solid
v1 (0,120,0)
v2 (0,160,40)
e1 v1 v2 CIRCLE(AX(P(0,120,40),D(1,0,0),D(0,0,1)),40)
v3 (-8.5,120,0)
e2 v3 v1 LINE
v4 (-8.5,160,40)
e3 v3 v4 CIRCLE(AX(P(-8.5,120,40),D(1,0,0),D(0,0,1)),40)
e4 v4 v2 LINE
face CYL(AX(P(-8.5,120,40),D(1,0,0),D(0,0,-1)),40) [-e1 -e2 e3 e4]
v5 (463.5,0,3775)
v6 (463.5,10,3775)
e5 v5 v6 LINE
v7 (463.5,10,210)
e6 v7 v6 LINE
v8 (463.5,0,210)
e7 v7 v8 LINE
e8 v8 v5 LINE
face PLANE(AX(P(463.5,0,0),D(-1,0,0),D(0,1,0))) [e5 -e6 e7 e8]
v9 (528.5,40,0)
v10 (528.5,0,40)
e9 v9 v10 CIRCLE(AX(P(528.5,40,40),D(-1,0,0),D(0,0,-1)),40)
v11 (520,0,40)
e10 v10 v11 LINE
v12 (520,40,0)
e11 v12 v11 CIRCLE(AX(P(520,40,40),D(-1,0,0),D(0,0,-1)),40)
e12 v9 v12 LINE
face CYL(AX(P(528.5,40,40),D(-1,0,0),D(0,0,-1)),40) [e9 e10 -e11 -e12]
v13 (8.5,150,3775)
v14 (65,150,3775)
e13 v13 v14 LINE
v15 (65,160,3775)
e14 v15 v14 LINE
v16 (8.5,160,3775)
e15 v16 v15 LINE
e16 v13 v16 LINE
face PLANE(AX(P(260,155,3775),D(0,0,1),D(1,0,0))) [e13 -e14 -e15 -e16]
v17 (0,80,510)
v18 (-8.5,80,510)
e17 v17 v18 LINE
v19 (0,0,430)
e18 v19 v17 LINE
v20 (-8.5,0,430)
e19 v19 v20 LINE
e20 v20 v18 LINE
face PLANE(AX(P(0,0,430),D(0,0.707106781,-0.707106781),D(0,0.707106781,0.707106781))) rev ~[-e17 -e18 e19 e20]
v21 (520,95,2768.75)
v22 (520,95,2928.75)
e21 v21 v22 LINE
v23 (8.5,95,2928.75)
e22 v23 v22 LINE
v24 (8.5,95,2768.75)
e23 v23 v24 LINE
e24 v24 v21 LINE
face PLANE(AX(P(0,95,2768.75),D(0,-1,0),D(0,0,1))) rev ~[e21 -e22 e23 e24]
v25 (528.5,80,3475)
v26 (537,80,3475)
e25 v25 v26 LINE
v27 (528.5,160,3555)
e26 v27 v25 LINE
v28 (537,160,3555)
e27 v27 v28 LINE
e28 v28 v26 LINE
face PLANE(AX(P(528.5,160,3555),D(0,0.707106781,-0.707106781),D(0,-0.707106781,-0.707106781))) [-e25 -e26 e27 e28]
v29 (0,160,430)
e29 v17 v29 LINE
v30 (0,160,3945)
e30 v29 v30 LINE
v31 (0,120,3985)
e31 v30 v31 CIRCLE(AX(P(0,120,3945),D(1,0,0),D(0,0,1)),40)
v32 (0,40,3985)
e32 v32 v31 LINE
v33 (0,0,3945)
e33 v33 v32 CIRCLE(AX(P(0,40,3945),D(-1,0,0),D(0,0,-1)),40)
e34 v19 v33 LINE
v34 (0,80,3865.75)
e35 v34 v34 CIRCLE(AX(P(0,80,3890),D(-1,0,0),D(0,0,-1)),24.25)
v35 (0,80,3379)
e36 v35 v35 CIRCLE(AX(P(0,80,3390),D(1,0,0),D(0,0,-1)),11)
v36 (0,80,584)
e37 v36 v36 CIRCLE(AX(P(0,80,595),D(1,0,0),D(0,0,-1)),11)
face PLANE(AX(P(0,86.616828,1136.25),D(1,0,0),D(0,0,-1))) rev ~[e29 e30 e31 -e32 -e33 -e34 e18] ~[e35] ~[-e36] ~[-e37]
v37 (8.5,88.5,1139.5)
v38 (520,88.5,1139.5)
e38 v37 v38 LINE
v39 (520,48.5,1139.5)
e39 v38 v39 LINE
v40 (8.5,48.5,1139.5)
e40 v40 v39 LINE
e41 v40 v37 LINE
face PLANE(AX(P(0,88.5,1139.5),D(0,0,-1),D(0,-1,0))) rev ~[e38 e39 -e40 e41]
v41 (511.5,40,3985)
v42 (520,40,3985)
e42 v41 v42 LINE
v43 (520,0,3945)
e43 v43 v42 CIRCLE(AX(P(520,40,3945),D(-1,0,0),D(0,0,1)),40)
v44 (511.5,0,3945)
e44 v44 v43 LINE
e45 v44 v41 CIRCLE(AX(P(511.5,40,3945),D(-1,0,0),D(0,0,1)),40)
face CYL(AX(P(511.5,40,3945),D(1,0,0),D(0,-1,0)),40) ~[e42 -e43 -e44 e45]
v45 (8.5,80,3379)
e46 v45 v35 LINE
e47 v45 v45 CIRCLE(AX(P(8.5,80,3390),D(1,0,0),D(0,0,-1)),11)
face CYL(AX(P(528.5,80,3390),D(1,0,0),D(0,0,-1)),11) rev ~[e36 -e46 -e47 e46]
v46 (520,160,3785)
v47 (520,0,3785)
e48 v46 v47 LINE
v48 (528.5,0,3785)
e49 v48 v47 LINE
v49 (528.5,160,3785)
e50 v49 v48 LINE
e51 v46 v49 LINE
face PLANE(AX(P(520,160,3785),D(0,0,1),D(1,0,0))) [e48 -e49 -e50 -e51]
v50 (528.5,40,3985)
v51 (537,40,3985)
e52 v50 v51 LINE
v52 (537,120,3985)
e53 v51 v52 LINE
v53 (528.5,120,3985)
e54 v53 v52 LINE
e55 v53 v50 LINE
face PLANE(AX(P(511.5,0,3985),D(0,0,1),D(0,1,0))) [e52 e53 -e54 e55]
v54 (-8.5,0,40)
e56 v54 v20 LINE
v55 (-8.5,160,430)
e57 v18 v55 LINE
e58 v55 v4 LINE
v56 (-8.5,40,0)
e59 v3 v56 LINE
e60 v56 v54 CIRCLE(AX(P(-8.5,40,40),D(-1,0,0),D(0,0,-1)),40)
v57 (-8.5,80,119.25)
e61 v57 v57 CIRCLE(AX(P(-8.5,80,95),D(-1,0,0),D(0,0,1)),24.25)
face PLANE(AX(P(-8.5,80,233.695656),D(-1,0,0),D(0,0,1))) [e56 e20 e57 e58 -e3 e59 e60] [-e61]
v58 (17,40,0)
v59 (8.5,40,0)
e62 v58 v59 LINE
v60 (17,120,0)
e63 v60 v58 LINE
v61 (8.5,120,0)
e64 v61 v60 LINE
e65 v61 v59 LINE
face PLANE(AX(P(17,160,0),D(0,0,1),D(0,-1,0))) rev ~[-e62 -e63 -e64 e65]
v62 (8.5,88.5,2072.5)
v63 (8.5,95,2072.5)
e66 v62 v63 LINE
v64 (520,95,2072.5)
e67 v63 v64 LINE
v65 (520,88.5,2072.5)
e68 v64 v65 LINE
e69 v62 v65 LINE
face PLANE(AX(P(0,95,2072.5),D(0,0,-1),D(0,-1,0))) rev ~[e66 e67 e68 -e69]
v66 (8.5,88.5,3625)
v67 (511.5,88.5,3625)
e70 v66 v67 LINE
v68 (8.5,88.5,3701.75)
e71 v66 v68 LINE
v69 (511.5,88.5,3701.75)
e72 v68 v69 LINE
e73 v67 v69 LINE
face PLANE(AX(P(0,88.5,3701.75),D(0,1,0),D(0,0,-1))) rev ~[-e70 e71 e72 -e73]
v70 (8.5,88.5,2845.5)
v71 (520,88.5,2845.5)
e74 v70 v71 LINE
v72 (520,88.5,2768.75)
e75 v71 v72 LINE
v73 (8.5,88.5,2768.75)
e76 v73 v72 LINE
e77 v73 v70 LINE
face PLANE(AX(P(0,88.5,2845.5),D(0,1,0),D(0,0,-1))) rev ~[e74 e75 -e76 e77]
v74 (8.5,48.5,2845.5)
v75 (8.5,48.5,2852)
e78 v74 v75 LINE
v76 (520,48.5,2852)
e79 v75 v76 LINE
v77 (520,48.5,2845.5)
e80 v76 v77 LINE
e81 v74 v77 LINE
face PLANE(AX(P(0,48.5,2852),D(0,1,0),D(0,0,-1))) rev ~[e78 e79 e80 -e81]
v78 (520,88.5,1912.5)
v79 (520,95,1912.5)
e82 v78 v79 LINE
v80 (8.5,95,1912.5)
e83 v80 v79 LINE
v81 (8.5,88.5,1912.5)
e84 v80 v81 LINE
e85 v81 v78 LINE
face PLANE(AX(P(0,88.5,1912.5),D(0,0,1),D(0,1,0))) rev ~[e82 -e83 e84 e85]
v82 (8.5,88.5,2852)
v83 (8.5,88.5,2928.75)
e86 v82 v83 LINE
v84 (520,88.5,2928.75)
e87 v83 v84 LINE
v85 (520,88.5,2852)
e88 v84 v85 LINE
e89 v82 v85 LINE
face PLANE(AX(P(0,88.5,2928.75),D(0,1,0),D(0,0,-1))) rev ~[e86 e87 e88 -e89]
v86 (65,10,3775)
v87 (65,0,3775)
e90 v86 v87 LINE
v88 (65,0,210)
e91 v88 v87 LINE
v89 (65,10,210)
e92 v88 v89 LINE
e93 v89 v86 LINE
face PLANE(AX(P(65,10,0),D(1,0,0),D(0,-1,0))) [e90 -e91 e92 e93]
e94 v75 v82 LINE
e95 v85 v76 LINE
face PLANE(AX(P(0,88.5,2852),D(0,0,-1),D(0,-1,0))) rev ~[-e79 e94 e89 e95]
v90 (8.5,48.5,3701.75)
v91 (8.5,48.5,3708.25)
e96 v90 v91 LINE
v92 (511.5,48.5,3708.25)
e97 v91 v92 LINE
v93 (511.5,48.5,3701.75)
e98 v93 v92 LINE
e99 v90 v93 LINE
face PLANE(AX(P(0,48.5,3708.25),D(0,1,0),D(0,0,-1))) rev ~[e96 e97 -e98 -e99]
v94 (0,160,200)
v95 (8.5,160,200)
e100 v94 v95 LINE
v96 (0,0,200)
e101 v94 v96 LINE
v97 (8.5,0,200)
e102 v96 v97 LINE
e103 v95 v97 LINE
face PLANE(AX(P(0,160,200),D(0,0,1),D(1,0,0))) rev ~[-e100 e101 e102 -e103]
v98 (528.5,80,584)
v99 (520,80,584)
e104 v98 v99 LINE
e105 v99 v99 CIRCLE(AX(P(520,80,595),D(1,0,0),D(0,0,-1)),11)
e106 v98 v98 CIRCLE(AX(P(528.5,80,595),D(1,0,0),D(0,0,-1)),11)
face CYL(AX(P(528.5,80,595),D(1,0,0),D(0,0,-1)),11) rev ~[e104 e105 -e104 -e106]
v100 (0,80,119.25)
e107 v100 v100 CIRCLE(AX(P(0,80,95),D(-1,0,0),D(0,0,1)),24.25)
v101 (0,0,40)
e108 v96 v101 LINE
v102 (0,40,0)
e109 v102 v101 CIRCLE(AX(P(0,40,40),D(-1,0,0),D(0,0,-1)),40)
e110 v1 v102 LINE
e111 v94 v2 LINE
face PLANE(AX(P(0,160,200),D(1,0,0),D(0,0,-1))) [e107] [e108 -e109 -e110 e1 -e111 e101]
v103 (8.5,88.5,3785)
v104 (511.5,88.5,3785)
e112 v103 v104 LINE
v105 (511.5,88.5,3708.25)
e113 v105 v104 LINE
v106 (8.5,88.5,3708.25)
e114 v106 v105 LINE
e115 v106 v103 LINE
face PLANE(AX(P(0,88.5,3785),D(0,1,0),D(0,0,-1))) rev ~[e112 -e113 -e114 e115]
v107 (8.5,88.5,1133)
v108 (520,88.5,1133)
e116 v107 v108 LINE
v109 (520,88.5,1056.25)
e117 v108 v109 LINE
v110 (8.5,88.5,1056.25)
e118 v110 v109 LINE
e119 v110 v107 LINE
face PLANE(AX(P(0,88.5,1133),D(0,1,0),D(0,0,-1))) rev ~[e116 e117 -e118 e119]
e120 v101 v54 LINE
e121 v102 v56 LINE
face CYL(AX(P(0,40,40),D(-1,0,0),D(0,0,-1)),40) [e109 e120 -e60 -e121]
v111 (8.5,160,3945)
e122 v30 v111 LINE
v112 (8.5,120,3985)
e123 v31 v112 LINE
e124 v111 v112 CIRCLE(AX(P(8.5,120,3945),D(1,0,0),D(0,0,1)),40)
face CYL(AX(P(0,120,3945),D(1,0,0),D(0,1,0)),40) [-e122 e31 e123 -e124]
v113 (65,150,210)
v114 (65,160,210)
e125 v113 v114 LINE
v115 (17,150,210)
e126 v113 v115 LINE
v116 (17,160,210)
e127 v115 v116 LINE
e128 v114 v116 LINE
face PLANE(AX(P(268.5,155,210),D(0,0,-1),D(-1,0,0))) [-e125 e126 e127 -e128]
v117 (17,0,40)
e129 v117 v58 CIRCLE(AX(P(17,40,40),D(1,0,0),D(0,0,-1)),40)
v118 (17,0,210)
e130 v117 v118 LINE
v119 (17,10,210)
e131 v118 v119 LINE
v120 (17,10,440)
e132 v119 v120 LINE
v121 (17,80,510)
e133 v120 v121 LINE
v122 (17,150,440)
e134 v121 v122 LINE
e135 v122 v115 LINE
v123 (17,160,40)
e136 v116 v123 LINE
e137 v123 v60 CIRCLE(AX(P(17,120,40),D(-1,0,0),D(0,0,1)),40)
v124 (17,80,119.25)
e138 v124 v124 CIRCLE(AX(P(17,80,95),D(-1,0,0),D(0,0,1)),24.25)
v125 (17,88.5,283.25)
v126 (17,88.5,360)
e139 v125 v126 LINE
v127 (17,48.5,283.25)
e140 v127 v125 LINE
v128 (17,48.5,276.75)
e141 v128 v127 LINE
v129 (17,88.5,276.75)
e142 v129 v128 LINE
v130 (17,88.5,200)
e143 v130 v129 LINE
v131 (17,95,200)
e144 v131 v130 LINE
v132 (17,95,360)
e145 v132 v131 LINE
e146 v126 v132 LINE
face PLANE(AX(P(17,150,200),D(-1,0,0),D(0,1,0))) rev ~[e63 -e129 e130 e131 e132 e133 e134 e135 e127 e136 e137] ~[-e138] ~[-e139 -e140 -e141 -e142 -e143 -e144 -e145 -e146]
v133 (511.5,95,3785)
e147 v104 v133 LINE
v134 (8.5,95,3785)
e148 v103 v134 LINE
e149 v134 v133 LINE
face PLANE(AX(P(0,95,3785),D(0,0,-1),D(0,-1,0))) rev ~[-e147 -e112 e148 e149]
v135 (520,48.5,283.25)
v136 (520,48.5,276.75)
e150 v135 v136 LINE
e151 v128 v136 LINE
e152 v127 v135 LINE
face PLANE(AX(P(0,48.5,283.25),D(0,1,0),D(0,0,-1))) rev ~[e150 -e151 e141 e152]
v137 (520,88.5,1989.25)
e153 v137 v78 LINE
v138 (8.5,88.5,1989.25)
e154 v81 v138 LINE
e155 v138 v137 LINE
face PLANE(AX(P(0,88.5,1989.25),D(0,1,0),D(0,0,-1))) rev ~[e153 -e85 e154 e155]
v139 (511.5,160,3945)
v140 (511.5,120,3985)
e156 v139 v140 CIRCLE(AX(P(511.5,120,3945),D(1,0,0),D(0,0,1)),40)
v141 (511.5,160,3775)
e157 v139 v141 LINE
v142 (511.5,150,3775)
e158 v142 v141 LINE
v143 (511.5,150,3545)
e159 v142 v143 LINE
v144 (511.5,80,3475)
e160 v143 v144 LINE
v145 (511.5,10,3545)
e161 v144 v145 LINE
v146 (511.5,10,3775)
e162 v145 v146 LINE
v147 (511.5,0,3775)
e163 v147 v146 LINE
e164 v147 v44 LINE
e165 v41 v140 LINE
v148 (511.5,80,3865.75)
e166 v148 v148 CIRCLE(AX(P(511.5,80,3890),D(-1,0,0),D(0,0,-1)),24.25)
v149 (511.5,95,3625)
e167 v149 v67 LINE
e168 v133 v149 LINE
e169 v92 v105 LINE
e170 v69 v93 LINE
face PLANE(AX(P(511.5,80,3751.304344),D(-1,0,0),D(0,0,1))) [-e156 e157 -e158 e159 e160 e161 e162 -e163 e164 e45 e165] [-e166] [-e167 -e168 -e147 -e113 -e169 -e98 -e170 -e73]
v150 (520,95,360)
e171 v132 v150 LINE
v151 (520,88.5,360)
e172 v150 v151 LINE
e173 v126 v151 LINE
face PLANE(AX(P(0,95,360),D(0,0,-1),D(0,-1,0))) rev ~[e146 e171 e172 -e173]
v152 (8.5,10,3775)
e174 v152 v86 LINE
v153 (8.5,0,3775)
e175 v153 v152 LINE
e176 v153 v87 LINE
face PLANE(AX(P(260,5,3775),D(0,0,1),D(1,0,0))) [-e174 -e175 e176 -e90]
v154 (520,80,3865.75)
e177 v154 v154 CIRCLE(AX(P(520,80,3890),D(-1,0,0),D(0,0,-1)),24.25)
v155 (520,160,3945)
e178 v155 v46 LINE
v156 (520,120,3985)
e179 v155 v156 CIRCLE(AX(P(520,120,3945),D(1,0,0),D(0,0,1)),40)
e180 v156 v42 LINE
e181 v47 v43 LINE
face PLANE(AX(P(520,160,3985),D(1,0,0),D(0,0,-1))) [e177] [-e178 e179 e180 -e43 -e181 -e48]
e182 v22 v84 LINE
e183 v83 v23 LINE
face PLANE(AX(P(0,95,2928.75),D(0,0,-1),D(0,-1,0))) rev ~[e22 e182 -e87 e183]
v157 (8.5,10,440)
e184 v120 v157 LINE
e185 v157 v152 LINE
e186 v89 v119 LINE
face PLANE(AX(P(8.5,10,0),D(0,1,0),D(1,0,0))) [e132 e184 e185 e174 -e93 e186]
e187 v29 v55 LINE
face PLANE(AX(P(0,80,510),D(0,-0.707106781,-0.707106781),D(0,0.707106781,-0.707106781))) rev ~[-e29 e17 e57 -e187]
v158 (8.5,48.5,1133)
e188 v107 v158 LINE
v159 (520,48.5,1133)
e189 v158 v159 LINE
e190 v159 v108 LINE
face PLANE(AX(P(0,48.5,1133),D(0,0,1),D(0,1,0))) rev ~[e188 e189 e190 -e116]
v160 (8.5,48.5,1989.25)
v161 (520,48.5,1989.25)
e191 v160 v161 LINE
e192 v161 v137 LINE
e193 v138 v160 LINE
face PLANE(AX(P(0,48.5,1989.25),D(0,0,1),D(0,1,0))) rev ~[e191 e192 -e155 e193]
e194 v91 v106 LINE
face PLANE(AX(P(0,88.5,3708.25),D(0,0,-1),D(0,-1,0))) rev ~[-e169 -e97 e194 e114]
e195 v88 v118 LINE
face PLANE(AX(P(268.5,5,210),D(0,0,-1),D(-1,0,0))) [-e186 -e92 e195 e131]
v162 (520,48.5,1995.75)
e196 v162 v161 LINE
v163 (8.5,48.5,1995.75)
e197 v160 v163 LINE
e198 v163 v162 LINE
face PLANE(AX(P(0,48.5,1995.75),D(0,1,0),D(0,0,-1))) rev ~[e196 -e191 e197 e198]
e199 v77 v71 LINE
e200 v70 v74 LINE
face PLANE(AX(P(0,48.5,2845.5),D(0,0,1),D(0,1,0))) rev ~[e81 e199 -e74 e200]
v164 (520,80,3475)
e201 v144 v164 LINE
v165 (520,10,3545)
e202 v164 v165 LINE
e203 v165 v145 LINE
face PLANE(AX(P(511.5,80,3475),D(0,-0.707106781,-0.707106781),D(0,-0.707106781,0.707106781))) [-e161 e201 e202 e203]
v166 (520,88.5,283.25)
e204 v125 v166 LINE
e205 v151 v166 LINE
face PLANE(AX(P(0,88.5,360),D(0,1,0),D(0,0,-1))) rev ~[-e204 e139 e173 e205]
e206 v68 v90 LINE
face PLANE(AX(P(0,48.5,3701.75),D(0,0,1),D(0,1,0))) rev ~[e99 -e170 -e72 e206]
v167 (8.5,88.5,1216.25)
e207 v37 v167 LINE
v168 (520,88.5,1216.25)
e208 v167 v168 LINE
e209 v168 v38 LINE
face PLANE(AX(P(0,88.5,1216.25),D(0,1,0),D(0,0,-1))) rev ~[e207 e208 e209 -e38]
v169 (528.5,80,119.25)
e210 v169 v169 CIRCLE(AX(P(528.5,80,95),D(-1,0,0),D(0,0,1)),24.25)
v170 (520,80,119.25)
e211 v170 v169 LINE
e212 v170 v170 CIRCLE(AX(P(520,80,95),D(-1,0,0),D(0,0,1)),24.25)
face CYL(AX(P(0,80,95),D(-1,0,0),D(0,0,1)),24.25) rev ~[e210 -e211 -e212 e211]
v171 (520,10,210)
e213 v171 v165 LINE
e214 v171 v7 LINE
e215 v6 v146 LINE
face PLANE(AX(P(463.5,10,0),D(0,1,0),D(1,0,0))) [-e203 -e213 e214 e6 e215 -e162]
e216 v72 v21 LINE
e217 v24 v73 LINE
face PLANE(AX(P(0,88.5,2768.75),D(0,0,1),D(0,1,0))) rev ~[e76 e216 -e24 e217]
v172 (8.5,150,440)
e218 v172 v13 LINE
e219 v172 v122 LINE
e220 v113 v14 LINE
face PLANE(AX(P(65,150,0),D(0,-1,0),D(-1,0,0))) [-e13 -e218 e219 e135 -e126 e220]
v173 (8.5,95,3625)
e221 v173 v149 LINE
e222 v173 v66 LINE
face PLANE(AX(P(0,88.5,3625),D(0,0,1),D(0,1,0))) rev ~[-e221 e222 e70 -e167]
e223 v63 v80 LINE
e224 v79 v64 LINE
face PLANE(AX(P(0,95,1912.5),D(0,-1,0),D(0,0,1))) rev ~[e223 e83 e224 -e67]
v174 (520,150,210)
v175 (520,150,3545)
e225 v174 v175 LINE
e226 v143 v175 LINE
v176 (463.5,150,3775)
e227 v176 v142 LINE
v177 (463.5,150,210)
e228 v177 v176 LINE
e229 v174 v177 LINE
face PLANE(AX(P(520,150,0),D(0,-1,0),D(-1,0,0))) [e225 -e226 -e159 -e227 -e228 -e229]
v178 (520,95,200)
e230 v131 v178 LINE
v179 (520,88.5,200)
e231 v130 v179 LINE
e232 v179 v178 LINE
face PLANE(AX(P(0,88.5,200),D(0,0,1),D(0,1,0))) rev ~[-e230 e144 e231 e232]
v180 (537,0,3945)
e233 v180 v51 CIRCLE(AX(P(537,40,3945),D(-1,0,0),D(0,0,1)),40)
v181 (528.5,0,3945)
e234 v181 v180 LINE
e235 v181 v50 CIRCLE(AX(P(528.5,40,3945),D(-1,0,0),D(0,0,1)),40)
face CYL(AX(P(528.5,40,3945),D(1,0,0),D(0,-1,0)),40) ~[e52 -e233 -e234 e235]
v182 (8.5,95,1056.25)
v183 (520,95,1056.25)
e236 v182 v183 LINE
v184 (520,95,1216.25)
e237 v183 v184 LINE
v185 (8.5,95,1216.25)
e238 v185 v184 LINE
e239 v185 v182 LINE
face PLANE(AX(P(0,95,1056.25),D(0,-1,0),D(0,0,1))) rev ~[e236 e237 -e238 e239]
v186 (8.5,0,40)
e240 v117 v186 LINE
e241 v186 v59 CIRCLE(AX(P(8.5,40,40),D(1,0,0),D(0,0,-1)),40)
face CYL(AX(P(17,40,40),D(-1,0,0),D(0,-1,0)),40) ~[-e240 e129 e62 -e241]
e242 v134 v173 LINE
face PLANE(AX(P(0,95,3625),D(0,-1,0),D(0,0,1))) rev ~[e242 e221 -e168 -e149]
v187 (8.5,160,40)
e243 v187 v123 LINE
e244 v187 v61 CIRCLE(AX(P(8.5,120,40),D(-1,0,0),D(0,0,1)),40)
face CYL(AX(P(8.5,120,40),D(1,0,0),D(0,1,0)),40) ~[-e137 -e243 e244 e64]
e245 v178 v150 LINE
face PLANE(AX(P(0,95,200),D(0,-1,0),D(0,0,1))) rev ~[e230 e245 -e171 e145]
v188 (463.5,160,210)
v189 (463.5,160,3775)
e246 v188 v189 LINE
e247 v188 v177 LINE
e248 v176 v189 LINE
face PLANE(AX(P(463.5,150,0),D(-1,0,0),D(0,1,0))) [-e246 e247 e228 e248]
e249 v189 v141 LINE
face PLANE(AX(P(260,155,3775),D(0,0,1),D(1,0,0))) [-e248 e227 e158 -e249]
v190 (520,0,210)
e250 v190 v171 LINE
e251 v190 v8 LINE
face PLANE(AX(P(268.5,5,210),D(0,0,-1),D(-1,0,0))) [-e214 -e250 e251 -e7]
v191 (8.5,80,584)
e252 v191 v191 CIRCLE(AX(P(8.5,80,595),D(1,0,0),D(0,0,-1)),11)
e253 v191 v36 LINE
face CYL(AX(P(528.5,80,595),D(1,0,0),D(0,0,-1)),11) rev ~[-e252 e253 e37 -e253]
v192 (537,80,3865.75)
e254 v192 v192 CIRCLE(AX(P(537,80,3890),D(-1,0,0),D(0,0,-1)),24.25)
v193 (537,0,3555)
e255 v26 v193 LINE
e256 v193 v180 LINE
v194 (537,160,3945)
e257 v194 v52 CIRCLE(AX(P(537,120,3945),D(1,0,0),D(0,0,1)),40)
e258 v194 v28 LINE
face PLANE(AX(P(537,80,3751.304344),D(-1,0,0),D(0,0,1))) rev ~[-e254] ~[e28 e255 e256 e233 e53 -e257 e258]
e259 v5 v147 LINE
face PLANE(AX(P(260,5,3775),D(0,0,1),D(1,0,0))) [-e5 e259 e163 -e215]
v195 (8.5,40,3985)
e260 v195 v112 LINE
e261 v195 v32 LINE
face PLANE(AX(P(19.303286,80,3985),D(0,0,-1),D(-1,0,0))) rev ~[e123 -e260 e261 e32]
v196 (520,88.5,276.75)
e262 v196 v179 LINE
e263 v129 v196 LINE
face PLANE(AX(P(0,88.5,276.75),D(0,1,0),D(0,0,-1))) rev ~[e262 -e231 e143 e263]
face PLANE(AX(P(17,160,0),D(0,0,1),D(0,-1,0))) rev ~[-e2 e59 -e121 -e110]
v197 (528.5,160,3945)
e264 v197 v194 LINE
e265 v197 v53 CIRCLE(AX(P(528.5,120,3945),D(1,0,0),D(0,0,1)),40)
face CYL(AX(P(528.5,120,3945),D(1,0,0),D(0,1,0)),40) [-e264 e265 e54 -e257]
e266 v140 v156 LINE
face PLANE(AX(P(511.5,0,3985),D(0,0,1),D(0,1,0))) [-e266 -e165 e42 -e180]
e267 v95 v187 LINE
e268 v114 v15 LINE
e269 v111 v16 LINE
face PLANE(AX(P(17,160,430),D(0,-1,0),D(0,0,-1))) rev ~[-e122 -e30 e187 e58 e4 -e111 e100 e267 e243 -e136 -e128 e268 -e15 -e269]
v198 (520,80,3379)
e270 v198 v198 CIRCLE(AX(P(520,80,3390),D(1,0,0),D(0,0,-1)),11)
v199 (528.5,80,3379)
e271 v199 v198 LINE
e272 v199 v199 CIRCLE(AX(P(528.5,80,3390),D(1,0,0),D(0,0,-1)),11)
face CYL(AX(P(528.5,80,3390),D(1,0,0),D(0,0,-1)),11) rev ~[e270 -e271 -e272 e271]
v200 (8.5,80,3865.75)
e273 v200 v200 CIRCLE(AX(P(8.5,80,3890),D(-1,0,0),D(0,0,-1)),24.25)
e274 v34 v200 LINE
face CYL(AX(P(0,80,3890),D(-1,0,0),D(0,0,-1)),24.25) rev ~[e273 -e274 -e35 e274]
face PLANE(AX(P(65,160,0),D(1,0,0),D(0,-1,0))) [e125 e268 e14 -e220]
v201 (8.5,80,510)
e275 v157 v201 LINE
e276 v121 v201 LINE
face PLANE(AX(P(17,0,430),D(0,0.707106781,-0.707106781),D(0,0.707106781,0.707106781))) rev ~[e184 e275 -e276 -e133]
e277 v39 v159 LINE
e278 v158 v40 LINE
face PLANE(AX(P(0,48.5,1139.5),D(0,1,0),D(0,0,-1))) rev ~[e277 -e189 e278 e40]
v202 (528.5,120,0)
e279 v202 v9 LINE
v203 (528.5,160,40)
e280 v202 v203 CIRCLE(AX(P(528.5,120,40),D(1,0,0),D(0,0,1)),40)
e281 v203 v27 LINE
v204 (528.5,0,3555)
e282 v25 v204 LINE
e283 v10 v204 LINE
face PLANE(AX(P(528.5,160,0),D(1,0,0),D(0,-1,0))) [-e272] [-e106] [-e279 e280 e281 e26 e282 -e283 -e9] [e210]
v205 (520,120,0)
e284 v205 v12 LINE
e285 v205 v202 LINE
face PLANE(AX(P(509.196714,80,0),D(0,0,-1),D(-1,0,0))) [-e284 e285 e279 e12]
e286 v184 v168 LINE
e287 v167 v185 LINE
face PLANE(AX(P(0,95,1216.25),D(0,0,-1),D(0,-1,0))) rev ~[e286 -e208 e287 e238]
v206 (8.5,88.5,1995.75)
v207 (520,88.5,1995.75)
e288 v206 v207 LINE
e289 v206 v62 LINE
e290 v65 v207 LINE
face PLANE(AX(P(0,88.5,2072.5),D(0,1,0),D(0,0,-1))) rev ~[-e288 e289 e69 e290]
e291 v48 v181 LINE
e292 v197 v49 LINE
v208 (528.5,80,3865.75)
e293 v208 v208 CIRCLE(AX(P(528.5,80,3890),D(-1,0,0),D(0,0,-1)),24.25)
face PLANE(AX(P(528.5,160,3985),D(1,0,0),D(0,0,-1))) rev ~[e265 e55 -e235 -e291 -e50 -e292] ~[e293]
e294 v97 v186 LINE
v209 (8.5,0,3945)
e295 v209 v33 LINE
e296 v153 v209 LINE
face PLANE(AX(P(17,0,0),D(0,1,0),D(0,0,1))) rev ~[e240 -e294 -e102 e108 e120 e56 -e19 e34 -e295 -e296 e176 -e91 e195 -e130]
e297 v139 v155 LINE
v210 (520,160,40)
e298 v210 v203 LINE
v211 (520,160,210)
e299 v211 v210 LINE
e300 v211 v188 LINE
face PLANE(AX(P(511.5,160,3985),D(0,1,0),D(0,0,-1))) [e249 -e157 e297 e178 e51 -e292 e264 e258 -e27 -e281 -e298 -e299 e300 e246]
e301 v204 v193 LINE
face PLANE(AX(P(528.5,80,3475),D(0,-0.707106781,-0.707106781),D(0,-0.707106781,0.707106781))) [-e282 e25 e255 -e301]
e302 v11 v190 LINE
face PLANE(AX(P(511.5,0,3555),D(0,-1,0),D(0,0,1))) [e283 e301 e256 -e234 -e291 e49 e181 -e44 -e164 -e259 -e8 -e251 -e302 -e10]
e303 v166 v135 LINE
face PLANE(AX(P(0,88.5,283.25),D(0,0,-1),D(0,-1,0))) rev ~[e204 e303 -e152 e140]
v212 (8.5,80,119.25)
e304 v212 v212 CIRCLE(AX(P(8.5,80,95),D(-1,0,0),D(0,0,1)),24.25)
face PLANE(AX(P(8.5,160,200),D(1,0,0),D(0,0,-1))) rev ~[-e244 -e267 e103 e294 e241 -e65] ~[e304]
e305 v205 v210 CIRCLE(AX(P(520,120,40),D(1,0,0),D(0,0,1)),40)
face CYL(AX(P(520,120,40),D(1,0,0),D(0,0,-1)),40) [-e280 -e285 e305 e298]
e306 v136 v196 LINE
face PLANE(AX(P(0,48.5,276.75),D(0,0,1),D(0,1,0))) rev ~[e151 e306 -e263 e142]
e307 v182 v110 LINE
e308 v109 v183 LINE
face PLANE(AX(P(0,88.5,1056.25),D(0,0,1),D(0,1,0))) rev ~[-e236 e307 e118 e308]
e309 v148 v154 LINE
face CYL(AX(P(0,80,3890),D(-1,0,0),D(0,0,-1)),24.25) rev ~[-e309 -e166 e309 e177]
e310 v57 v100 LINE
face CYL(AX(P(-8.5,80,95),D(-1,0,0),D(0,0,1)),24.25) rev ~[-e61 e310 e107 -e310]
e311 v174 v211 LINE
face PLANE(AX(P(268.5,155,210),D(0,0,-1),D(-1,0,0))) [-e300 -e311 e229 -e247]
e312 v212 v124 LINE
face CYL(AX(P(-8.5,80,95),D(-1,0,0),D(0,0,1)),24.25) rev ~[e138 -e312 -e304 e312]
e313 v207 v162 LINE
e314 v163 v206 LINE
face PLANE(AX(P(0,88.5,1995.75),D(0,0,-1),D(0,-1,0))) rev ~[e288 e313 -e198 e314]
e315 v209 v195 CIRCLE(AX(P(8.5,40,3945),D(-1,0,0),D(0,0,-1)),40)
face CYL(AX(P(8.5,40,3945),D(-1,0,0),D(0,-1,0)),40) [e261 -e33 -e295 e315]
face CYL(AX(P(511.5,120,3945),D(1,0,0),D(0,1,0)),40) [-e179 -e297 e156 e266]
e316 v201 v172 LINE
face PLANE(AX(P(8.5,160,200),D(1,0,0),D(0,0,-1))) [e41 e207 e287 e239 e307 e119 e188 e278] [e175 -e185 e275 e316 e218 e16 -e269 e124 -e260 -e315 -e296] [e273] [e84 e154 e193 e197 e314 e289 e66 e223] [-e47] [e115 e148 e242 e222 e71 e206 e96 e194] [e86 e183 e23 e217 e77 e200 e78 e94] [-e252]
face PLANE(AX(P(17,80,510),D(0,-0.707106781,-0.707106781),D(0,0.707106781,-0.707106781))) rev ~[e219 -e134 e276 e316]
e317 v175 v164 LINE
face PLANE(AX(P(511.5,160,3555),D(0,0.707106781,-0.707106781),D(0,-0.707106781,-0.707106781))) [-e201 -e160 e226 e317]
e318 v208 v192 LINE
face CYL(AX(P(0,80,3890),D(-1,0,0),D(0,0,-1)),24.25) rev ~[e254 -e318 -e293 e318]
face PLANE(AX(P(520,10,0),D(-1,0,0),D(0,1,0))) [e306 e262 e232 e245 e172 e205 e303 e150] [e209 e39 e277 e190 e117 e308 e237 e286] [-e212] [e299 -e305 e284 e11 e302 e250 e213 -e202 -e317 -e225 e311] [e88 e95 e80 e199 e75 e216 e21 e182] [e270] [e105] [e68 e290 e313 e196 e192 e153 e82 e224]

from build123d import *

# Parameters (mm, degrees)
EXTRUDE_1_DEPTH        = 3985
EXTRUDE_1_2_DEPTH      = 3985
EXTRUDE_3_DEPTH        = 520
SKETCH_6_W             = 511.5
SKETCH_6_H             = 200
CUT_EXTRUDE_4_DEPTH    = 4024.075595859
PATTERN_LINEAR_1_COUNT = 5
PATTERN_LINEAR_1_PITCH = 856.25
EXTRUDE_11_DEPTH       = 8.5
PATTERN_LINEAR_2_COUNT = 2
PATTERN_LINEAR_2_PITCH = 17
SKETCH_22_W            = 8.5
SKETCH_22_H            = 200
CUT_EXTRUDE_12_DEPTH   = 4025.201038716
SKETCH_23_R            = 24.25
CUT_EXTRUDE_13_DEPTH   = 4025.201038716
EXTRUDE_14_DEPTH       = 8.5
PATTERN_LINEAR_3_COUNT = 2
PATTERN_LINEAR_3_PITCH = 17
SKETCH_27_W            = 8.5
SKETCH_27_H            = 200
CUT_EXTRUDE_15_DEPTH   = 4025.201038716
SKETCH_28_R            = 24.25
CUT_EXTRUDE_16_DEPTH   = 4026.344115725
FILLET_2_R             = 40
SKETCH_29_W            = 503
SKETCH_29_H            = 10
CUT_EXTRUDE_17_DEPTH   = 10
SKETCH_30_W            = 503
SKETCH_30_H            = 10
CUT_EXTRUDE_18_DEPTH   = 10
SKETCH_31_R            = 11
CUT_EXTRUDE_19_DEPTH   = 4025.201038716


with BuildPart() as part:
    # 草图2 → 拉伸1 (new body)
    with BuildSketch(Plane.XY):
        Polygon((0, 0), (0, 160), (65, 160), (65, 150), (8.5, 150), (8.5, 10), (65, 10), (65, 0), align=None)
    extrude(amount=EXTRUDE_1_DEPTH)



with BuildPart() as body_2:
    # 草图2 → Extrude 1 2 (new body)
    with BuildSketch(Plane.XY):
        Polygon((463.5, 160), (528.5, 160), (528.5, 0), (463.5, 0), (463.5, 10), (520, 10), (520, 150), (463.5, 150), align=None)
    extrude(amount=EXTRUDE_1_2_DEPTH)


with BuildPart() as part_1:
    add(part.part)

    add(body_2.part)  # 拉伸3 merges body 2
    # 草图5 → 拉伸3 (add)
    with BuildSketch(Plane.ZY):
        Polygon((200, 95), (360, 95), (360, 88.5), (283.25, 88.5), (283.25, 48.5), (276.75, 48.5), (276.75, 88.5), (200, 88.5), align=None)
    extrude_3 = extrude(amount=-EXTRUDE_3_DEPTH)

    # 草图6 → 拉伸4 (cut, through all)
    with BuildSketch(Plane(origin=(0, 160, 0), x_dir=(1, 0, 0), z_dir=(0, 1, 0))):
        with Locations((264.25, -100)):
            Rectangle(SKETCH_6_W, SKETCH_6_H)
        with Locations((264.25, -3885)):
            Rectangle(SKETCH_6_W, SKETCH_6_H)
    extrude(amount=-CUT_EXTRUDE_4_DEPTH, mode=Mode.SUBTRACT)

    # 阵列(线性)1: 拉伸3 ×5
    with Locations(*[(0, 0, i * PATTERN_LINEAR_1_PITCH) for i in range(1, PATTERN_LINEAR_1_COUNT)]):
        add(extrude_3)

    # 草图19 → 拉伸11 (add)
    with BuildSketch(Plane(origin=(528.5, 0, 0), x_dir=(0, 0, -1), z_dir=(1, 0, 0))):
        Polygon((-3985, 160), (-3555, 160), (-3475, 80), (-3555, 0), (-3985, 0), align=None)
    extrude_11 = extrude(amount=EXTRUDE_11_DEPTH)

    # 阵列(线性)2: 拉伸11 ×2
    with Locations(*[(-i * PATTERN_LINEAR_2_PITCH, 0, 0) for i in range(1, PATTERN_LINEAR_2_COUNT)]):
        add(extrude_11)

    # 草图22 → 拉伸12 (cut, through all)
    with BuildSketch(Plane(origin=(0, 160, 0), x_dir=(1, 0, 0), z_dir=(0, 1, 0))):
        with Locations((524.25, -3885)):
            Rectangle(SKETCH_22_W, SKETCH_22_H)
    extrude(amount=-CUT_EXTRUDE_12_DEPTH, mode=Mode.SUBTRACT)

    # 草图23 → 拉伸13 (cut, through all)
    with BuildSketch(Plane.ZY):
        with Locations((95, 80)):
            Circle(SKETCH_23_R)
        with Locations(Location((3890, 80, 0), (0, 0, 180))):
            Circle(SKETCH_23_R)
    extrude(amount=-CUT_EXTRUDE_13_DEPTH, mode=Mode.SUBTRACT)

    # 草图26 → 拉伸14 (add)
    with BuildSketch(Plane.ZY):
        Polygon((0, 160), (0, 0), (430, 0), (510, 80), (430, 160), align=None)
    extrude_14 = extrude(amount=EXTRUDE_14_DEPTH)

    # 阵列(线性)3: 拉伸14 ×2
    with Locations(*[(i * PATTERN_LINEAR_3_PITCH, 0, 0) for i in range(1, PATTERN_LINEAR_3_COUNT)]):
        add(extrude_14)

    # 草图27 → 拉伸15 (cut, through all)
    with BuildSketch(Plane(origin=(0, 160, 0), x_dir=(1, 0, 0), z_dir=(0, 1, 0))):
        with Locations((4.25, -100)):
            Rectangle(SKETCH_27_W, SKETCH_27_H)
    extrude(amount=-CUT_EXTRUDE_15_DEPTH, mode=Mode.SUBTRACT)

    # 草图28 → 拉伸16 (cut, through all)
    with BuildSketch(Plane.ZY.offset(8.5)):
        with Locations((95, 80)):
            Circle(SKETCH_28_R)
    extrude(amount=-CUT_EXTRUDE_16_DEPTH, mode=Mode.SUBTRACT)

    # 圆角2
    fillet_2_edges = [part_1.edges().sort_by_distance(p)[0] for p in [
        (-4.25, 0, 0),
        (515.75, 0, 3985),
        (4.25, 160, 3985),
        (515.75, 160, 3985),
        (532.75, 0, 3985),
        (4.25, 0, 3985),
        (-4.25, 160, 0),
        (12.75, 0, 0),
        (524.25, 160, 0),
        (532.75, 160, 3985),
        (524.25, 0, 0),
        (12.75, 160, 0),
    ]]
    fillet(fillet_2_edges, radius=FILLET_2_R)

    # 草图29 → 拉伸17 (cut)
    with BuildSketch(Plane.XY.offset(3785)):
        with Locations((260, 155)):
            Rectangle(SKETCH_29_W, SKETCH_29_H)
        with Locations((260, 5)):
            Rectangle(SKETCH_29_W, SKETCH_29_H)
    extrude(amount=-CUT_EXTRUDE_17_DEPTH, mode=Mode.SUBTRACT)

    # 草图30 → 拉伸18 (cut)
    with BuildSketch(Plane(origin=(0, 0, 200), x_dir=(-1, 0, 0), z_dir=(0, 0, -1))):
        with Locations((-268.5, 155)):
            Rectangle(SKETCH_30_W, SKETCH_30_H)
        with Locations((-268.5, 5)):
            Rectangle(SKETCH_30_W, SKETCH_30_H)
    extrude(amount=-CUT_EXTRUDE_18_DEPTH, mode=Mode.SUBTRACT)

    # 草图31 → 拉伸19 (cut, through all)
    with BuildSketch(Plane(origin=(528.5, 0, 0), x_dir=(0, 0, -1), z_dir=(1, 0, 0))):
        with Locations((-595, 80)):
            Circle(SKETCH_31_R)
        with Locations((-3390, 80)):
            Circle(SKETCH_31_R)
    extrude(amount=-CUT_EXTRUDE_19_DEPTH, mode=Mode.SUBTRACT)


solid = part_1.part
